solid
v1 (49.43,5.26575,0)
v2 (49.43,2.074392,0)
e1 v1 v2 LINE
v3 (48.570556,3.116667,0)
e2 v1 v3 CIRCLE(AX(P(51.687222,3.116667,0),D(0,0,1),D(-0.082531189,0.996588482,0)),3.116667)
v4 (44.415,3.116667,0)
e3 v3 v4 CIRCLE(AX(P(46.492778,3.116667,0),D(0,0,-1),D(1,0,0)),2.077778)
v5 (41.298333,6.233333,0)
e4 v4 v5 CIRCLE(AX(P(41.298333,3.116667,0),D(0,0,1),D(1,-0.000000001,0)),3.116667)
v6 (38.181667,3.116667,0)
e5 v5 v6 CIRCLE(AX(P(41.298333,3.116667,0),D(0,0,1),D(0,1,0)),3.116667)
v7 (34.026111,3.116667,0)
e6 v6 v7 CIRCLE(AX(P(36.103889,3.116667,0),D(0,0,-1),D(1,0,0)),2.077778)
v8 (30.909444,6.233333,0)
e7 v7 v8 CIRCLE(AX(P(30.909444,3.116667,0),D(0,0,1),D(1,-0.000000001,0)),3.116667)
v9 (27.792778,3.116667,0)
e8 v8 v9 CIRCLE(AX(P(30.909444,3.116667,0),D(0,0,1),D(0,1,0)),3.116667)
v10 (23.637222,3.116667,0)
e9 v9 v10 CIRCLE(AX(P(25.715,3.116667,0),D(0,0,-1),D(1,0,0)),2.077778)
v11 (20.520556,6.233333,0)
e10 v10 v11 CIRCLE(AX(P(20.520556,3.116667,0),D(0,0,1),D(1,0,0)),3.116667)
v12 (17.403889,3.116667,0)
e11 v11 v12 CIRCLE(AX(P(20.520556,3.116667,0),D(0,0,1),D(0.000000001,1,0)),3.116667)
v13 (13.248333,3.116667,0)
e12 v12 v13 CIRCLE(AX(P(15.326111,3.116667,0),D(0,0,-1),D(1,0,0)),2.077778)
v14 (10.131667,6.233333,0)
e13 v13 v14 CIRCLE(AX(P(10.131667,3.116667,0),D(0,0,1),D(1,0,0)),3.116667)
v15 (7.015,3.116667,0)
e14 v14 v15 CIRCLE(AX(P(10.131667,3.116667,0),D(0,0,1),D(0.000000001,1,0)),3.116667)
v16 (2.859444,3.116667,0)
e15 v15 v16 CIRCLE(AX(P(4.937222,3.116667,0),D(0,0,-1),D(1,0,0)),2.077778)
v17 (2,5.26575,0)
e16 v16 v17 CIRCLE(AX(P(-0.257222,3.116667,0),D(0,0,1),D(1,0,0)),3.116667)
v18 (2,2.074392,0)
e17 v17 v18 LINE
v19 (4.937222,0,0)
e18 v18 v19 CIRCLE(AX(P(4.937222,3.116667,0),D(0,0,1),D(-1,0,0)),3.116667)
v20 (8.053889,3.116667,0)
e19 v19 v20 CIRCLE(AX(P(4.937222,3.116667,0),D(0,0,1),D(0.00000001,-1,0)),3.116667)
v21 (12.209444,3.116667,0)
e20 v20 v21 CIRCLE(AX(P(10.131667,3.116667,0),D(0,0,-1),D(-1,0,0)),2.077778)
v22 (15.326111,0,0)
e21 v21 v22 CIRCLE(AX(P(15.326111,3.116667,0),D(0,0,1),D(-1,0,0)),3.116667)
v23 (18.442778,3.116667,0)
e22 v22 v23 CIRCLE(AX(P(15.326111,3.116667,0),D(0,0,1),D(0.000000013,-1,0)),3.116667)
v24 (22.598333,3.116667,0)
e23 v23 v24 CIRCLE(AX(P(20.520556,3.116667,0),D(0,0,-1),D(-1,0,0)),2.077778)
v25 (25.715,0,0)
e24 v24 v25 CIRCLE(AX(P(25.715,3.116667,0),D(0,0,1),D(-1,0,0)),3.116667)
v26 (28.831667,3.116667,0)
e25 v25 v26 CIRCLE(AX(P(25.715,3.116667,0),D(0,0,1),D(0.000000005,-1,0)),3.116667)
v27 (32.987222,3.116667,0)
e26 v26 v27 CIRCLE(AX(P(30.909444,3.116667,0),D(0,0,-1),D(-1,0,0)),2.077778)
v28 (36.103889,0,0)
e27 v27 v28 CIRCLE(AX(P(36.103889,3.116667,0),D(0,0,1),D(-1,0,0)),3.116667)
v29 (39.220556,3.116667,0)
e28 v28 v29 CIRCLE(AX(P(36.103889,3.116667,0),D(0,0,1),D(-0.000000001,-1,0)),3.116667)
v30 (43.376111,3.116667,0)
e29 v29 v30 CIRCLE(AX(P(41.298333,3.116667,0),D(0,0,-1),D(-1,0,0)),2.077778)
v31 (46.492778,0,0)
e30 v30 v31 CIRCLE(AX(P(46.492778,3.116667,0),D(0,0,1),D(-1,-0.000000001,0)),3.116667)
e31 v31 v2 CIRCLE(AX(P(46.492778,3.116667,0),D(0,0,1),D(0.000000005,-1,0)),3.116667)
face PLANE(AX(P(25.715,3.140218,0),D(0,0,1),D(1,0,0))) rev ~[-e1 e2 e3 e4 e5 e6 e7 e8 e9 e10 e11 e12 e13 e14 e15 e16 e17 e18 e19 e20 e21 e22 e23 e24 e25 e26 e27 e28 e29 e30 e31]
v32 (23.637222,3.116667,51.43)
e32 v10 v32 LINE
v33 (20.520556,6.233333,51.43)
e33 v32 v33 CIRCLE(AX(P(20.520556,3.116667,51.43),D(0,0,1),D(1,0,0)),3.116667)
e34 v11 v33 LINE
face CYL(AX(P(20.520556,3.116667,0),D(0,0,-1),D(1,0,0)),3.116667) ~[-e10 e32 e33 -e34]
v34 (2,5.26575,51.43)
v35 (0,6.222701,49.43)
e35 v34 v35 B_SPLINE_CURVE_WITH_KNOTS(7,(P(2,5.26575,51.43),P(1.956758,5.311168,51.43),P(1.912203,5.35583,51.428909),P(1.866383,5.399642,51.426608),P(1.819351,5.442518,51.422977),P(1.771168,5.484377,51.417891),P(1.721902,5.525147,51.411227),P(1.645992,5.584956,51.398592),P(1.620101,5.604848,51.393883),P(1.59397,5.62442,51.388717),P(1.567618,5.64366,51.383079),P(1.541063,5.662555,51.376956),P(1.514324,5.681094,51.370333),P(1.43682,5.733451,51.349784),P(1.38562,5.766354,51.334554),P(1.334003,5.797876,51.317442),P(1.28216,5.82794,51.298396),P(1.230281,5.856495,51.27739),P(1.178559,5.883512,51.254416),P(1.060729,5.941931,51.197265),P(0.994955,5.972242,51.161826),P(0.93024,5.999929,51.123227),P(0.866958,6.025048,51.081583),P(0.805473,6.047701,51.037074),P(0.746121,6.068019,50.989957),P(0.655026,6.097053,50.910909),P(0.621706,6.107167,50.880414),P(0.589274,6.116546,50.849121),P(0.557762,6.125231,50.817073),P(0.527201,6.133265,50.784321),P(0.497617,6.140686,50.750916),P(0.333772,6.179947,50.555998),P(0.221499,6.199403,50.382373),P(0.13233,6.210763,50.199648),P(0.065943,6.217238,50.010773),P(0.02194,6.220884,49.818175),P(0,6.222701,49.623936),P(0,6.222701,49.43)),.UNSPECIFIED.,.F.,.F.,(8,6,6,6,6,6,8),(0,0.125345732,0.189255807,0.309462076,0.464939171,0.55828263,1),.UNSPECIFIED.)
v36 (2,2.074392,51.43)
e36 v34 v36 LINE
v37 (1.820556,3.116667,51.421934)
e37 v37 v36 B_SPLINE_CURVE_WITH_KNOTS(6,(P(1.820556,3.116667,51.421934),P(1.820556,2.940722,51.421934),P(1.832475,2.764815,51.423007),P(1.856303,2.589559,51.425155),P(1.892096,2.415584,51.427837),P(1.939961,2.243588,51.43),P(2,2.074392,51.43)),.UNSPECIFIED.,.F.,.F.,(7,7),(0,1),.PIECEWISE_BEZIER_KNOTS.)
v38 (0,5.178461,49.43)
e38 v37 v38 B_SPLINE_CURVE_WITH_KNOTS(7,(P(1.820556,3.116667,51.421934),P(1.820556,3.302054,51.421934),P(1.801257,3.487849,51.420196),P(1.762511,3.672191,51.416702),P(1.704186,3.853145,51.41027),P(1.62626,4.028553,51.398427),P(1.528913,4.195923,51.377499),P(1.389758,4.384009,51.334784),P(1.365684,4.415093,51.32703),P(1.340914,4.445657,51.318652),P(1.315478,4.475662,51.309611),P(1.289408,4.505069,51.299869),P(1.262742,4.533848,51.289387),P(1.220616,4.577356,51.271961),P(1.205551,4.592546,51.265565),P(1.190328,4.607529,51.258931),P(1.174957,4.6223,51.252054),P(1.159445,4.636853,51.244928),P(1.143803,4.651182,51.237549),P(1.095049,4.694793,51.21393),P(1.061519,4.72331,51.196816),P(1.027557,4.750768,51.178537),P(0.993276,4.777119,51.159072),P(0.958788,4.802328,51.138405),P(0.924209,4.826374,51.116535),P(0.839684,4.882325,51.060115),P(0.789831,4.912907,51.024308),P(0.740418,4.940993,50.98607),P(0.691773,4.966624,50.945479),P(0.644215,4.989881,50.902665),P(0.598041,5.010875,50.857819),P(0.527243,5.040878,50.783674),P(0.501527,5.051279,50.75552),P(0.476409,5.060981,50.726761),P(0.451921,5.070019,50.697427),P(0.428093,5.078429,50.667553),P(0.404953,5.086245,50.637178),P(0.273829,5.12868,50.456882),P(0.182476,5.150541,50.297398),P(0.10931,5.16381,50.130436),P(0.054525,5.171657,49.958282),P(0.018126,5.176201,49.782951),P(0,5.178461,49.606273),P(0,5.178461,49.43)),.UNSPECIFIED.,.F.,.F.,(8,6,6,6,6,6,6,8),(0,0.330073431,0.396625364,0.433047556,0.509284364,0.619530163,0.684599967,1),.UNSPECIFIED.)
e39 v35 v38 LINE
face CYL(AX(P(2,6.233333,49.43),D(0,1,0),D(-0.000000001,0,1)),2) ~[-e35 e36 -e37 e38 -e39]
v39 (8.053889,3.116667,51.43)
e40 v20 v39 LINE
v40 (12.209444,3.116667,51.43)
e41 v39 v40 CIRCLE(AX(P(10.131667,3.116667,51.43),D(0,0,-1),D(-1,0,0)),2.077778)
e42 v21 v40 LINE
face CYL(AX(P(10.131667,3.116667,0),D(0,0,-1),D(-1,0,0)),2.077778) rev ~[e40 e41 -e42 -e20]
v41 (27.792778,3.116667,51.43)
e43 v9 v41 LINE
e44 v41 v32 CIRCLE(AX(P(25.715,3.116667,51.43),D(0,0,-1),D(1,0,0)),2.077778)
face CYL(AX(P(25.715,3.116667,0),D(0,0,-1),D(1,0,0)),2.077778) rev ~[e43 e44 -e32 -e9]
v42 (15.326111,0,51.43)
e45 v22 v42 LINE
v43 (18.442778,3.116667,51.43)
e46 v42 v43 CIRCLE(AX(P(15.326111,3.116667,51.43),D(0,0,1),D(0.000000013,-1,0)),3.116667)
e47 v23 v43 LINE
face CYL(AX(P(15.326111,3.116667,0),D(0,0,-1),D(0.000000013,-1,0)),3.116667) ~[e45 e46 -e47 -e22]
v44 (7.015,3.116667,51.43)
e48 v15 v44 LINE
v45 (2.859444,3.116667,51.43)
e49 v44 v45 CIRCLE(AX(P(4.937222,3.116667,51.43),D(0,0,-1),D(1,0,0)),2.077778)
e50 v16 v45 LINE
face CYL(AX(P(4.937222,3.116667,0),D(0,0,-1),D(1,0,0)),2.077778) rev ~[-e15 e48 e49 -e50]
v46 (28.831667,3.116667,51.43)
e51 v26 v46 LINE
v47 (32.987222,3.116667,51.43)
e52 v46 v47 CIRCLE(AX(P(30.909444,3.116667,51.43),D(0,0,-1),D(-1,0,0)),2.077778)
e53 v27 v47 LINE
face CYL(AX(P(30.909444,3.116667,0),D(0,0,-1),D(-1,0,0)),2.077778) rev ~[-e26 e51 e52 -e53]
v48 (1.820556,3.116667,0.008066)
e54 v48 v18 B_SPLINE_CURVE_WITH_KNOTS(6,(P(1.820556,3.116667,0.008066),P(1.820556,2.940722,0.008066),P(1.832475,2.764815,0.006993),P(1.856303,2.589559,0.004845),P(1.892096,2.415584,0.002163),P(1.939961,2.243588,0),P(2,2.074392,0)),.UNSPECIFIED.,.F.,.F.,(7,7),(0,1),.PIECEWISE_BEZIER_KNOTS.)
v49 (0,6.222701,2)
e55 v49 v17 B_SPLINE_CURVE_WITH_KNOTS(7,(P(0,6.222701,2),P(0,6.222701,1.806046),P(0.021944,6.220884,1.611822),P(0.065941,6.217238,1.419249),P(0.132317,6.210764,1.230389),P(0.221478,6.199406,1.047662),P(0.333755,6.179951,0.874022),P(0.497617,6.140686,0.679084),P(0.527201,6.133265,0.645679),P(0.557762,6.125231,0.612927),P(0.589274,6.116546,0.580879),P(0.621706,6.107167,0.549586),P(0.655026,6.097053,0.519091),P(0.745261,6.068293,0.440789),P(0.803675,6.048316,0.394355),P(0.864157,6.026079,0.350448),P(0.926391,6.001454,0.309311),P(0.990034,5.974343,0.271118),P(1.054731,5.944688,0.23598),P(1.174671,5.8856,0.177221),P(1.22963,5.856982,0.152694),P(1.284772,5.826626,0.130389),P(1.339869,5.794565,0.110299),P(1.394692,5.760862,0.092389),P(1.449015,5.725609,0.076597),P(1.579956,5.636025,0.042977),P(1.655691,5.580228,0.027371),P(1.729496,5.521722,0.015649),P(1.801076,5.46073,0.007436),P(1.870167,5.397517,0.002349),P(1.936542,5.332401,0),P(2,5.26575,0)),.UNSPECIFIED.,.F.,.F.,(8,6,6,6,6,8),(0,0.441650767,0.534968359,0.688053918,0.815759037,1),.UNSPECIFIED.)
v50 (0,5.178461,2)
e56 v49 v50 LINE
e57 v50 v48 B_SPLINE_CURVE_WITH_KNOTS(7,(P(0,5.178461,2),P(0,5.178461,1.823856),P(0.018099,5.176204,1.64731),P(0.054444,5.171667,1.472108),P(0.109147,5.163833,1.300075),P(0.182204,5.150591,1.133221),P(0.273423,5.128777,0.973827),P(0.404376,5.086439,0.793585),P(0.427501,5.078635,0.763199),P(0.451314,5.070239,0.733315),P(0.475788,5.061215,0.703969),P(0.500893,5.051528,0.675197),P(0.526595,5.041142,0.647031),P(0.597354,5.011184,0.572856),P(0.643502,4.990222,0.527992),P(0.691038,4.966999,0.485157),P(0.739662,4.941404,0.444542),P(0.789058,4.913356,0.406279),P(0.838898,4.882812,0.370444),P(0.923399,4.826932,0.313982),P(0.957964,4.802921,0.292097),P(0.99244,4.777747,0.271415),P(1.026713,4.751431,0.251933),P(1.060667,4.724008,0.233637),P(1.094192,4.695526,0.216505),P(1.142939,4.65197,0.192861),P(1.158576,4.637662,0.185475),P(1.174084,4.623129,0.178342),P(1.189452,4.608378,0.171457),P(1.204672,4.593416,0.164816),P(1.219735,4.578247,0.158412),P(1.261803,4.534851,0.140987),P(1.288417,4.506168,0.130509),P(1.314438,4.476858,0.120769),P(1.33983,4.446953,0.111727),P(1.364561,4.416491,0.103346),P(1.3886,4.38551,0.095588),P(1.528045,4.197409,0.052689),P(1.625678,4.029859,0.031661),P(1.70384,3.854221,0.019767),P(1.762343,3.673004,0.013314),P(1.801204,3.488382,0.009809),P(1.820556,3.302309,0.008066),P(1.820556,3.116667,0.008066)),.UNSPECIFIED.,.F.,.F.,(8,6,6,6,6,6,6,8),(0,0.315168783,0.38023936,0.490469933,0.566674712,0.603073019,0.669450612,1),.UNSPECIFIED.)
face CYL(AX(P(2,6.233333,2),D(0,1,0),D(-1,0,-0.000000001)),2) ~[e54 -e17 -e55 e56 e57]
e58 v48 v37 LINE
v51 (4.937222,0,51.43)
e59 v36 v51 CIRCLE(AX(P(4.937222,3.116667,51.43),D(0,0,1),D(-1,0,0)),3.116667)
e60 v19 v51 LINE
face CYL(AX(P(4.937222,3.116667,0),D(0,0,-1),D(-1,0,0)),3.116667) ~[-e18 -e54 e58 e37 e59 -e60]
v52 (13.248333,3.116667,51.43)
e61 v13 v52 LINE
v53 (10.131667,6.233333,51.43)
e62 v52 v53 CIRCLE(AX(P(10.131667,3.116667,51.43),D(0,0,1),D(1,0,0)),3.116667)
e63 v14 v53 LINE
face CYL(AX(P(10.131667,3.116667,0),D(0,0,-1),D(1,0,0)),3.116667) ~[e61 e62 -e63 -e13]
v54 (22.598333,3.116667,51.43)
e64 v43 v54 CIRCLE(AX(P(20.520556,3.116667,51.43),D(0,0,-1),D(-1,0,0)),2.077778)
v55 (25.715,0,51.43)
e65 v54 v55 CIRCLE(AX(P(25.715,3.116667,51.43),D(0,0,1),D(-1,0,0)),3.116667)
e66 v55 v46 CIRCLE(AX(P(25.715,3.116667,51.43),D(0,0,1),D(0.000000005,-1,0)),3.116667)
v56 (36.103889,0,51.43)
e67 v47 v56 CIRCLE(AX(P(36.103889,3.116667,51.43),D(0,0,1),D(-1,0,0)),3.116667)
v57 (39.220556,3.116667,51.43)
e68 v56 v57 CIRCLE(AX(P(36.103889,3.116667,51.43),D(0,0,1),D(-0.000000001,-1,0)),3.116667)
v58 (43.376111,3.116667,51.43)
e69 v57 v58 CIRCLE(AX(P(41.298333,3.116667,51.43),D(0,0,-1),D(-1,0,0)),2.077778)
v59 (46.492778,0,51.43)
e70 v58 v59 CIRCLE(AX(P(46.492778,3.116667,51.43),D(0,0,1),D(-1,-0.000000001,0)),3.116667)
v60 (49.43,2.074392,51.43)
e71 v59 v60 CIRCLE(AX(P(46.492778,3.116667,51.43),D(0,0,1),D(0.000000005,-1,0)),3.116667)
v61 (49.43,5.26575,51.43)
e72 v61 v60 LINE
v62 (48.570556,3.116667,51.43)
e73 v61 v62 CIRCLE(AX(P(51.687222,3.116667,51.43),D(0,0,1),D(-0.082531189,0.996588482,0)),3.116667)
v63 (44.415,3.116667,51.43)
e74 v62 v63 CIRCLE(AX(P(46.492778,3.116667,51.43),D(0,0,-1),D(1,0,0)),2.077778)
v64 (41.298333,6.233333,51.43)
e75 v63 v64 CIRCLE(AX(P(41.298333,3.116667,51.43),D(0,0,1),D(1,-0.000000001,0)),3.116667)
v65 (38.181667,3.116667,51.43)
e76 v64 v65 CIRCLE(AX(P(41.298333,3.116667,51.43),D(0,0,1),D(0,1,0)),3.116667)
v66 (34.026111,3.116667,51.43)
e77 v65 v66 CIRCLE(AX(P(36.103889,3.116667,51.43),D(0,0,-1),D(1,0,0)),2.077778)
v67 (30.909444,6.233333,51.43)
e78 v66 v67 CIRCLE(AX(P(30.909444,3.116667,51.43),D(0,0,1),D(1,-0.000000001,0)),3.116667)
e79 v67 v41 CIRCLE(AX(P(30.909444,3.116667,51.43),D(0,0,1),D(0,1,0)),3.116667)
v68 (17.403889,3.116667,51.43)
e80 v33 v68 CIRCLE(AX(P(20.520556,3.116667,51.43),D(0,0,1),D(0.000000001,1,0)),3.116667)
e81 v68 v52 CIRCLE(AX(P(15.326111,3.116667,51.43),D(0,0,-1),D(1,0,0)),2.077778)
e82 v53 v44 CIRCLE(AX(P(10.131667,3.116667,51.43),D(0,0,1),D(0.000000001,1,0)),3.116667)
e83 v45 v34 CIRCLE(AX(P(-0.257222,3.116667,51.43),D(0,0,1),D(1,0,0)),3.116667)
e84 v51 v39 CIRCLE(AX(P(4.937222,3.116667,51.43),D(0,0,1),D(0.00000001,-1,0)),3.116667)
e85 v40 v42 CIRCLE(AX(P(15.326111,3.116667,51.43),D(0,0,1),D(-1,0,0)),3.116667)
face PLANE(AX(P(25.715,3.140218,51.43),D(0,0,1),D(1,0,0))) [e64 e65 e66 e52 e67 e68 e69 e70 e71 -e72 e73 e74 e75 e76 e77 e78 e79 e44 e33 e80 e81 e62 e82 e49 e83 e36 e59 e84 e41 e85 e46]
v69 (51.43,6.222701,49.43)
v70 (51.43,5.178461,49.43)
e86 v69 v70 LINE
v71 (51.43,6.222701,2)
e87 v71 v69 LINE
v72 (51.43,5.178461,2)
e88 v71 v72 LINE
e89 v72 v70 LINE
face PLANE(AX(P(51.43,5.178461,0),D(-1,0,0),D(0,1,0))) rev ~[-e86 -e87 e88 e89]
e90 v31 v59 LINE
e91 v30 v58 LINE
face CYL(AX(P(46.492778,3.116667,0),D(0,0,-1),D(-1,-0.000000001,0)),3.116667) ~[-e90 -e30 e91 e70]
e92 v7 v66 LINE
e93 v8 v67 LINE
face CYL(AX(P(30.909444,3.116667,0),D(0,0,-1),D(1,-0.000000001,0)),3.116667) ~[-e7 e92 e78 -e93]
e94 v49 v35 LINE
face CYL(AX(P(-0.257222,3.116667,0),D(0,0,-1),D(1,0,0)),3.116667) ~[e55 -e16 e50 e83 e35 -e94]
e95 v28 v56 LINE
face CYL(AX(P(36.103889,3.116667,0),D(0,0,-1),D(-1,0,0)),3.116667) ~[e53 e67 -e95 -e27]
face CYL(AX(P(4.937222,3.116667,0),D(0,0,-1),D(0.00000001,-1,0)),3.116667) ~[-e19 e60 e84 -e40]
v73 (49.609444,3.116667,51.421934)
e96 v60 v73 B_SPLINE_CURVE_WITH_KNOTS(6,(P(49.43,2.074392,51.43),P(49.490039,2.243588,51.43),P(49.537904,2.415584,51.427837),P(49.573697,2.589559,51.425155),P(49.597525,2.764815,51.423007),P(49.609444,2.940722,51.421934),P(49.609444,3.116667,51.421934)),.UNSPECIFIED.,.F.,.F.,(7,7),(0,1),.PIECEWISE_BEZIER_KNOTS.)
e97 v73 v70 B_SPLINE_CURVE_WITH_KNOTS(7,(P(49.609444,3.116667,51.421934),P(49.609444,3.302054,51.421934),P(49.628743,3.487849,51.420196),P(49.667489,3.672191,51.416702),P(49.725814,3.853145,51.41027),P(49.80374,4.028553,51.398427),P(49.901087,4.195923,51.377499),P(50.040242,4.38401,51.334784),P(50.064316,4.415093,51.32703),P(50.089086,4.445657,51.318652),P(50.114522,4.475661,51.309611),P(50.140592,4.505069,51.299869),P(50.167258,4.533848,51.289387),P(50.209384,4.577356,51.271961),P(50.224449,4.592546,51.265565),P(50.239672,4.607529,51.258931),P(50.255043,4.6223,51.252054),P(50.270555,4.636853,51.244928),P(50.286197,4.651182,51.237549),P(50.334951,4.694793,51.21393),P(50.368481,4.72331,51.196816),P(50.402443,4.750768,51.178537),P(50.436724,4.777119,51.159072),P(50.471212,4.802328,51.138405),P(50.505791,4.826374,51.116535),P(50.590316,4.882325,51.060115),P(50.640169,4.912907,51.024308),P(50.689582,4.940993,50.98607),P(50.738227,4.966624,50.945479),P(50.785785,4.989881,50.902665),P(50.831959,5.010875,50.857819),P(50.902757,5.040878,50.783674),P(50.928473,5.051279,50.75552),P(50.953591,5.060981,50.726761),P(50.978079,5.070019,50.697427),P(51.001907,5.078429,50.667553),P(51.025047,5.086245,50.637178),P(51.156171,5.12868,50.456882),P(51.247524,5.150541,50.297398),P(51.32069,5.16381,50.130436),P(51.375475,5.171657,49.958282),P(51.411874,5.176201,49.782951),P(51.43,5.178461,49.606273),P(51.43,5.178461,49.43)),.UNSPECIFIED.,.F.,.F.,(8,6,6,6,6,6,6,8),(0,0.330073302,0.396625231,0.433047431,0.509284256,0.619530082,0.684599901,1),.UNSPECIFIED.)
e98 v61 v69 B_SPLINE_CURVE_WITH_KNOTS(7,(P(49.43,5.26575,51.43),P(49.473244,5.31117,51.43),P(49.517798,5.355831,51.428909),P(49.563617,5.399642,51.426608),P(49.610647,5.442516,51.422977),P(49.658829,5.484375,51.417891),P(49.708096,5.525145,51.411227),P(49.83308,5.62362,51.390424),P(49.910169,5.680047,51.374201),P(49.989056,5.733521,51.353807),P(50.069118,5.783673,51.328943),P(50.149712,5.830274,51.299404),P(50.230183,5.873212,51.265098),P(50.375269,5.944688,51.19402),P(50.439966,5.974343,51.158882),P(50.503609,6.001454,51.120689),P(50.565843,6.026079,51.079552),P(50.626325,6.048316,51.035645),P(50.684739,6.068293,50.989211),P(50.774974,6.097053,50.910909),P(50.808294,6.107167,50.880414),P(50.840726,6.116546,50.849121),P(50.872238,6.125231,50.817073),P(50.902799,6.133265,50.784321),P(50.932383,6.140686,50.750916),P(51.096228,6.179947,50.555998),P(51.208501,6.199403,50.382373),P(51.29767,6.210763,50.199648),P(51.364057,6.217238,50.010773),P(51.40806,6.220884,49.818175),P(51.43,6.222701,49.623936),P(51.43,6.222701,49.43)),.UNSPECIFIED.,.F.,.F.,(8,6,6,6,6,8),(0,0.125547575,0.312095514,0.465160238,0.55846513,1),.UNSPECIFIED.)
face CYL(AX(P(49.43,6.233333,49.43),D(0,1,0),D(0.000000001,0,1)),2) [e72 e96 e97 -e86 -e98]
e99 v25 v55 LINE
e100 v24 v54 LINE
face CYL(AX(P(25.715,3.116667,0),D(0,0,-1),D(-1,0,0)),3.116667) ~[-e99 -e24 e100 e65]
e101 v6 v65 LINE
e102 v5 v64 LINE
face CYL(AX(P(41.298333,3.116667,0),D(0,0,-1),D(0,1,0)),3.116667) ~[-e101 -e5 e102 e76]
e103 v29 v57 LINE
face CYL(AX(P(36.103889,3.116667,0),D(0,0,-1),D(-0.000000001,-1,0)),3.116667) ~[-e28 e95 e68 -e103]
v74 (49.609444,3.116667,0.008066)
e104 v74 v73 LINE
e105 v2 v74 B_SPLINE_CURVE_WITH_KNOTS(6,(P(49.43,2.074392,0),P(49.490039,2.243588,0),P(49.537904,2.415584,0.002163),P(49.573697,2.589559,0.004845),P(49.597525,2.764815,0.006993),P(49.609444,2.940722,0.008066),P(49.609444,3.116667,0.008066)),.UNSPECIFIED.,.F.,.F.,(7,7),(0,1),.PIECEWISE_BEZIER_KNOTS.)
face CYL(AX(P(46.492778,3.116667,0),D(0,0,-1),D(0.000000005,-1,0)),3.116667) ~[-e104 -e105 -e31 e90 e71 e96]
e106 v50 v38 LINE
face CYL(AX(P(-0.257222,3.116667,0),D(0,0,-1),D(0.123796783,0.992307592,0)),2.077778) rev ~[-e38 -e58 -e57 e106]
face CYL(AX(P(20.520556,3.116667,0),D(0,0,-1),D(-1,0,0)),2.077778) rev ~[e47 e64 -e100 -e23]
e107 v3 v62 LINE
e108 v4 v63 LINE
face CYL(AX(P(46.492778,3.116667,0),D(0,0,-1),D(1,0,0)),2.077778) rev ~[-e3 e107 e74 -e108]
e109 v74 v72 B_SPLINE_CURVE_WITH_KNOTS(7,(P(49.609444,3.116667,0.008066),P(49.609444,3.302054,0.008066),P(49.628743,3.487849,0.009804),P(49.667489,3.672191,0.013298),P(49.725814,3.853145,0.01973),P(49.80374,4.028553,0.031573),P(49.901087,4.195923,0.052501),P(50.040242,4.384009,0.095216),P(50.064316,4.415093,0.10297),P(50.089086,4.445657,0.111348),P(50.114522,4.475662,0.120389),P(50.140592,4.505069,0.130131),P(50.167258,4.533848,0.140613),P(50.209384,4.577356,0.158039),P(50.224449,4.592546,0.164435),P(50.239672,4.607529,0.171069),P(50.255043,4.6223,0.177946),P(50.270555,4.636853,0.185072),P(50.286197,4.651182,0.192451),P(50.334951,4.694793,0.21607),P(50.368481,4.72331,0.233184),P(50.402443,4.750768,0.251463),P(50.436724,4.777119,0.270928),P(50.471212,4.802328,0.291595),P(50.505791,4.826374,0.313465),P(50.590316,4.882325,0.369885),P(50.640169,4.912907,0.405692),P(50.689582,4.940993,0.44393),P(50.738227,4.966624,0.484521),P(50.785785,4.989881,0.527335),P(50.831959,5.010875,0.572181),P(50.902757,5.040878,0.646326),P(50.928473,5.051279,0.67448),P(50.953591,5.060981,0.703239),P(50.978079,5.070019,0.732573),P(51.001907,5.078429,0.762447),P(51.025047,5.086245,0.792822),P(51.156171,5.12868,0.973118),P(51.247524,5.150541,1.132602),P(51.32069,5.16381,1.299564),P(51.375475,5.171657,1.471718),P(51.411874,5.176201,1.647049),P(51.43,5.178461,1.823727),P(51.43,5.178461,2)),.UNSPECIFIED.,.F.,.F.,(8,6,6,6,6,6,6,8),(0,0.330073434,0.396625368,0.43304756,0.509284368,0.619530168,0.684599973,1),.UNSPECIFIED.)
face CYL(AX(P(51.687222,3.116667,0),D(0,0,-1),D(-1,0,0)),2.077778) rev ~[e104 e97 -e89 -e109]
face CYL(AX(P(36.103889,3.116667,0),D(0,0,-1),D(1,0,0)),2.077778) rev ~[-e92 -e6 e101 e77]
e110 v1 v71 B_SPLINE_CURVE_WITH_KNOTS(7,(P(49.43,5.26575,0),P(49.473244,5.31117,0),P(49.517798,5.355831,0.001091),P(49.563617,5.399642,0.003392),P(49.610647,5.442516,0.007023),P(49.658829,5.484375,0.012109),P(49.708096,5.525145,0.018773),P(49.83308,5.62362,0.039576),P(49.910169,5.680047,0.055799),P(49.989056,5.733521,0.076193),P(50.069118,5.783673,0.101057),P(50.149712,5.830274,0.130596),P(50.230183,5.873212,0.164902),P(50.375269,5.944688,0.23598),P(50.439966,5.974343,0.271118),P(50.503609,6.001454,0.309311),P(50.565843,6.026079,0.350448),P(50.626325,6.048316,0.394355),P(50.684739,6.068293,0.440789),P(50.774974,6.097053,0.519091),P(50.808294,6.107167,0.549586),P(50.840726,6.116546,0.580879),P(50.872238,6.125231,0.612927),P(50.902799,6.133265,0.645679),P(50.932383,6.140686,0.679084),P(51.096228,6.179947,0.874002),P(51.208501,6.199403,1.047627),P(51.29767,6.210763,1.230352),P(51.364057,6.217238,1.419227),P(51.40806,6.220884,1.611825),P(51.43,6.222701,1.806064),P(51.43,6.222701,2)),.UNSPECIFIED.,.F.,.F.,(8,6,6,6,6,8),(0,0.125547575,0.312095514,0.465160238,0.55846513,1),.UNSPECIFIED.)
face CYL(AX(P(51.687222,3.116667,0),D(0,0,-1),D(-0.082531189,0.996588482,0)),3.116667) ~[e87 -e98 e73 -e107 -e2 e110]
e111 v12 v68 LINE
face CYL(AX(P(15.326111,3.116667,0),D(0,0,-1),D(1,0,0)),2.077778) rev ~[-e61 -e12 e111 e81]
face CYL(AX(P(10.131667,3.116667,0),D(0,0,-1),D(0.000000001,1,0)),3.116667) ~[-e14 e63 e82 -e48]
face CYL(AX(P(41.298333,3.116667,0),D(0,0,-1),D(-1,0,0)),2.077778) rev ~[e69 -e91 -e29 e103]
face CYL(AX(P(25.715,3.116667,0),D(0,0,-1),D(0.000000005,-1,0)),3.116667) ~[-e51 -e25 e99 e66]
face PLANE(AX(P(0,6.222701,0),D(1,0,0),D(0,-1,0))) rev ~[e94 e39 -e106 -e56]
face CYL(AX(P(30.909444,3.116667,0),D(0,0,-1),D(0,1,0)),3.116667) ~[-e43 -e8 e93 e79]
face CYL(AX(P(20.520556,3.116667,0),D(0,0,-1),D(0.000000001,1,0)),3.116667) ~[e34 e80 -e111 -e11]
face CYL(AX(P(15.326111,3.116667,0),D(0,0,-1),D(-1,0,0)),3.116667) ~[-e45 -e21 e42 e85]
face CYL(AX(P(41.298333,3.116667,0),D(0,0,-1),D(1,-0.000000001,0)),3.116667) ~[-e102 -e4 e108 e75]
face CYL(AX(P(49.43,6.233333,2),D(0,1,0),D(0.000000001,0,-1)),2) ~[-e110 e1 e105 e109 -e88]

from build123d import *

# Parameters (mm, degrees)
BOSS_EXTRUDE3_DEPTH = 51.43
CUT_EXTRUDE1_DEPTH  = 10


with BuildPart() as part:
    # Sketch2 → Boss-Extrude3 (new body)
    with BuildSketch(Plane.XY):
        with BuildLine():
            ThreePointArc((44.414999988, 3.116666665), (43.502149457, 5.320482799), (41.298333323, 6.23333333))
            ThreePointArc((41.298333323, 6.23333333), (39.09451719, 5.320482799), (38.181666658, 3.116666665))
            ThreePointArc((38.181666658, 3.116666665), (36.103888882, 1.038888889), (34.026111106, 3.116666665))
            ThreePointArc((34.026111106, 3.116666665), (33.113260575, 5.320482799), (30.909444441, 6.23333333))
            ThreePointArc((30.909444441, 6.23333333), (28.705628308, 5.320482799), (27.792777776, 3.116666665))
            ThreePointArc((27.792777776, 3.116666665), (25.715, 1.038888889), (23.637222224, 3.116666665))
            ThreePointArc((23.637222224, 3.116666665), (22.724371692, 5.320482799), (20.520555559, 6.23333333))
            ThreePointArc((20.520555559, 6.23333333), (18.316739425, 5.320482799), (17.403888894, 3.116666665))
            ThreePointArc((17.403888894, 3.116666665), (15.326111118, 1.038888889), (13.248333342, 3.116666665))
            ThreePointArc((13.248333342, 3.116666665), (12.33548281, 5.320482799), (10.131666677, 6.23333333))
            ThreePointArc((10.131666677, 6.23333333), (7.927850543, 5.320482799), (7.015000012, 3.116666665))
            ThreePointArc((7.015000012, 3.116666665), (4.937222236, 1.038888889), (2.859444459, 3.116666665))
            ThreePointArc((2.859444459, 3.116666665), (2.035732981, 5.227582962), (0, 6.222700766))
            Line((0, 6.222700766), (0, 5.178461326))
            ThreePointArc((0, 5.178461326), (1.300277565, 4.491932077), (1.820555571, 3.116666665))
            ThreePointArc((1.820555571, 3.116666665), (2.733406114, 0.91285052), (4.937222268, 0))
            ThreePointArc((4.937222268, 0), (7.141038381, 0.912850543), (8.053888901, 3.116666665))
            ThreePointArc((8.053888901, 3.116666665), (10.131666677, 5.194444441), (12.209444453, 3.116666665))
            ThreePointArc((12.209444453, 3.116666665), (13.122294999, 0.912850517), (15.326111158, 0))
            ThreePointArc((15.326111158, 0), (17.529927266, 0.912850546), (18.442777783, 3.116666665))
            ThreePointArc((18.442777783, 3.116666665), (20.520555559, 5.194444441), (22.598333335, 3.116666665))
            ThreePointArc((22.598333335, 3.116666665), (23.511183872, 0.912850526), (25.715000016, 0))
            ThreePointArc((25.715000016, 0), (27.918816139, 0.912850537), (28.831666665, 3.116666665))
            ThreePointArc((28.831666665, 3.116666665), (30.909444441, 5.194444441), (32.987222217, 3.116666665))
            ThreePointArc((32.987222217, 3.116666665), (33.900072749, 0.912850531), (36.103888882, 0))
            ThreePointArc((36.103888882, 0), (38.307705016, 0.912850531), (39.220555547, 3.116666665))
            ThreePointArc((39.220555547, 3.116666665), (41.298333323, 5.194444441), (43.376111099, 3.116666665))
            ThreePointArc((43.376111099, 3.116666665), (44.288961637, 0.912850526), (46.492777781, 0))
            ThreePointArc((46.492777781, 0), (48.696593904, 0.912850537), (49.609444429, 3.116666665))
            ThreePointArc((49.609444429, 3.116666665), (50.129722435, 4.491932077), (51.43, 5.178461326))
            Line((51.43, 5.178461326), (51.43, 6.222700766))
            ThreePointArc((51.43, 6.222700766), (49.394267019, 5.227582962), (48.570555541, 3.116666665))
            ThreePointArc((48.570555541, 3.116666665), (46.492777764, 1.038888889), (44.414999988, 3.116666665))
        make_face()
    extrude(amount=BOSS_EXTRUDE3_DEPTH)

    # Sketch3 → Cut-Extrude1 (cut)
    with BuildSketch(Plane(origin=(0, 6.23333333, 0), x_dir=(1, 0, 0), z_dir=(0, 1, 0))):
        with BuildLine():
            Line((51.43, -49.43), (51.43, -51.43))
            Line((51.43, -51.43), (49.43, -51.43))
            ThreePointArc((49.43, -51.43), (50.844213562, -50.844213562), (51.43, -49.43))
        make_face()
        with BuildLine():
            Line((51.43, 0), (49.43, 0))
            ThreePointArc((49.43, 0), (50.844213562, -0.585786438), (51.43, -2))
            Line((51.43, -2), (51.43, 0))
        make_face()
        with BuildLine():
            Line((0, 0), (0, -2))
            ThreePointArc((0, -2), (0.585786438, -0.585786438), (2, 0))
            Line((2, 0), (0, 0))
        make_face()
        with BuildLine():
            Line((0, -49.43), (0, -51.43))
            Line((0, -51.43), (2, -51.43))
            ThreePointArc((2, -51.43), (0.585786438, -50.844213562), (0, -49.43))
        make_face()
    extrude(amount=-CUT_EXTRUDE1_DEPTH, mode=Mode.SUBTRACT)


solid = part.part
